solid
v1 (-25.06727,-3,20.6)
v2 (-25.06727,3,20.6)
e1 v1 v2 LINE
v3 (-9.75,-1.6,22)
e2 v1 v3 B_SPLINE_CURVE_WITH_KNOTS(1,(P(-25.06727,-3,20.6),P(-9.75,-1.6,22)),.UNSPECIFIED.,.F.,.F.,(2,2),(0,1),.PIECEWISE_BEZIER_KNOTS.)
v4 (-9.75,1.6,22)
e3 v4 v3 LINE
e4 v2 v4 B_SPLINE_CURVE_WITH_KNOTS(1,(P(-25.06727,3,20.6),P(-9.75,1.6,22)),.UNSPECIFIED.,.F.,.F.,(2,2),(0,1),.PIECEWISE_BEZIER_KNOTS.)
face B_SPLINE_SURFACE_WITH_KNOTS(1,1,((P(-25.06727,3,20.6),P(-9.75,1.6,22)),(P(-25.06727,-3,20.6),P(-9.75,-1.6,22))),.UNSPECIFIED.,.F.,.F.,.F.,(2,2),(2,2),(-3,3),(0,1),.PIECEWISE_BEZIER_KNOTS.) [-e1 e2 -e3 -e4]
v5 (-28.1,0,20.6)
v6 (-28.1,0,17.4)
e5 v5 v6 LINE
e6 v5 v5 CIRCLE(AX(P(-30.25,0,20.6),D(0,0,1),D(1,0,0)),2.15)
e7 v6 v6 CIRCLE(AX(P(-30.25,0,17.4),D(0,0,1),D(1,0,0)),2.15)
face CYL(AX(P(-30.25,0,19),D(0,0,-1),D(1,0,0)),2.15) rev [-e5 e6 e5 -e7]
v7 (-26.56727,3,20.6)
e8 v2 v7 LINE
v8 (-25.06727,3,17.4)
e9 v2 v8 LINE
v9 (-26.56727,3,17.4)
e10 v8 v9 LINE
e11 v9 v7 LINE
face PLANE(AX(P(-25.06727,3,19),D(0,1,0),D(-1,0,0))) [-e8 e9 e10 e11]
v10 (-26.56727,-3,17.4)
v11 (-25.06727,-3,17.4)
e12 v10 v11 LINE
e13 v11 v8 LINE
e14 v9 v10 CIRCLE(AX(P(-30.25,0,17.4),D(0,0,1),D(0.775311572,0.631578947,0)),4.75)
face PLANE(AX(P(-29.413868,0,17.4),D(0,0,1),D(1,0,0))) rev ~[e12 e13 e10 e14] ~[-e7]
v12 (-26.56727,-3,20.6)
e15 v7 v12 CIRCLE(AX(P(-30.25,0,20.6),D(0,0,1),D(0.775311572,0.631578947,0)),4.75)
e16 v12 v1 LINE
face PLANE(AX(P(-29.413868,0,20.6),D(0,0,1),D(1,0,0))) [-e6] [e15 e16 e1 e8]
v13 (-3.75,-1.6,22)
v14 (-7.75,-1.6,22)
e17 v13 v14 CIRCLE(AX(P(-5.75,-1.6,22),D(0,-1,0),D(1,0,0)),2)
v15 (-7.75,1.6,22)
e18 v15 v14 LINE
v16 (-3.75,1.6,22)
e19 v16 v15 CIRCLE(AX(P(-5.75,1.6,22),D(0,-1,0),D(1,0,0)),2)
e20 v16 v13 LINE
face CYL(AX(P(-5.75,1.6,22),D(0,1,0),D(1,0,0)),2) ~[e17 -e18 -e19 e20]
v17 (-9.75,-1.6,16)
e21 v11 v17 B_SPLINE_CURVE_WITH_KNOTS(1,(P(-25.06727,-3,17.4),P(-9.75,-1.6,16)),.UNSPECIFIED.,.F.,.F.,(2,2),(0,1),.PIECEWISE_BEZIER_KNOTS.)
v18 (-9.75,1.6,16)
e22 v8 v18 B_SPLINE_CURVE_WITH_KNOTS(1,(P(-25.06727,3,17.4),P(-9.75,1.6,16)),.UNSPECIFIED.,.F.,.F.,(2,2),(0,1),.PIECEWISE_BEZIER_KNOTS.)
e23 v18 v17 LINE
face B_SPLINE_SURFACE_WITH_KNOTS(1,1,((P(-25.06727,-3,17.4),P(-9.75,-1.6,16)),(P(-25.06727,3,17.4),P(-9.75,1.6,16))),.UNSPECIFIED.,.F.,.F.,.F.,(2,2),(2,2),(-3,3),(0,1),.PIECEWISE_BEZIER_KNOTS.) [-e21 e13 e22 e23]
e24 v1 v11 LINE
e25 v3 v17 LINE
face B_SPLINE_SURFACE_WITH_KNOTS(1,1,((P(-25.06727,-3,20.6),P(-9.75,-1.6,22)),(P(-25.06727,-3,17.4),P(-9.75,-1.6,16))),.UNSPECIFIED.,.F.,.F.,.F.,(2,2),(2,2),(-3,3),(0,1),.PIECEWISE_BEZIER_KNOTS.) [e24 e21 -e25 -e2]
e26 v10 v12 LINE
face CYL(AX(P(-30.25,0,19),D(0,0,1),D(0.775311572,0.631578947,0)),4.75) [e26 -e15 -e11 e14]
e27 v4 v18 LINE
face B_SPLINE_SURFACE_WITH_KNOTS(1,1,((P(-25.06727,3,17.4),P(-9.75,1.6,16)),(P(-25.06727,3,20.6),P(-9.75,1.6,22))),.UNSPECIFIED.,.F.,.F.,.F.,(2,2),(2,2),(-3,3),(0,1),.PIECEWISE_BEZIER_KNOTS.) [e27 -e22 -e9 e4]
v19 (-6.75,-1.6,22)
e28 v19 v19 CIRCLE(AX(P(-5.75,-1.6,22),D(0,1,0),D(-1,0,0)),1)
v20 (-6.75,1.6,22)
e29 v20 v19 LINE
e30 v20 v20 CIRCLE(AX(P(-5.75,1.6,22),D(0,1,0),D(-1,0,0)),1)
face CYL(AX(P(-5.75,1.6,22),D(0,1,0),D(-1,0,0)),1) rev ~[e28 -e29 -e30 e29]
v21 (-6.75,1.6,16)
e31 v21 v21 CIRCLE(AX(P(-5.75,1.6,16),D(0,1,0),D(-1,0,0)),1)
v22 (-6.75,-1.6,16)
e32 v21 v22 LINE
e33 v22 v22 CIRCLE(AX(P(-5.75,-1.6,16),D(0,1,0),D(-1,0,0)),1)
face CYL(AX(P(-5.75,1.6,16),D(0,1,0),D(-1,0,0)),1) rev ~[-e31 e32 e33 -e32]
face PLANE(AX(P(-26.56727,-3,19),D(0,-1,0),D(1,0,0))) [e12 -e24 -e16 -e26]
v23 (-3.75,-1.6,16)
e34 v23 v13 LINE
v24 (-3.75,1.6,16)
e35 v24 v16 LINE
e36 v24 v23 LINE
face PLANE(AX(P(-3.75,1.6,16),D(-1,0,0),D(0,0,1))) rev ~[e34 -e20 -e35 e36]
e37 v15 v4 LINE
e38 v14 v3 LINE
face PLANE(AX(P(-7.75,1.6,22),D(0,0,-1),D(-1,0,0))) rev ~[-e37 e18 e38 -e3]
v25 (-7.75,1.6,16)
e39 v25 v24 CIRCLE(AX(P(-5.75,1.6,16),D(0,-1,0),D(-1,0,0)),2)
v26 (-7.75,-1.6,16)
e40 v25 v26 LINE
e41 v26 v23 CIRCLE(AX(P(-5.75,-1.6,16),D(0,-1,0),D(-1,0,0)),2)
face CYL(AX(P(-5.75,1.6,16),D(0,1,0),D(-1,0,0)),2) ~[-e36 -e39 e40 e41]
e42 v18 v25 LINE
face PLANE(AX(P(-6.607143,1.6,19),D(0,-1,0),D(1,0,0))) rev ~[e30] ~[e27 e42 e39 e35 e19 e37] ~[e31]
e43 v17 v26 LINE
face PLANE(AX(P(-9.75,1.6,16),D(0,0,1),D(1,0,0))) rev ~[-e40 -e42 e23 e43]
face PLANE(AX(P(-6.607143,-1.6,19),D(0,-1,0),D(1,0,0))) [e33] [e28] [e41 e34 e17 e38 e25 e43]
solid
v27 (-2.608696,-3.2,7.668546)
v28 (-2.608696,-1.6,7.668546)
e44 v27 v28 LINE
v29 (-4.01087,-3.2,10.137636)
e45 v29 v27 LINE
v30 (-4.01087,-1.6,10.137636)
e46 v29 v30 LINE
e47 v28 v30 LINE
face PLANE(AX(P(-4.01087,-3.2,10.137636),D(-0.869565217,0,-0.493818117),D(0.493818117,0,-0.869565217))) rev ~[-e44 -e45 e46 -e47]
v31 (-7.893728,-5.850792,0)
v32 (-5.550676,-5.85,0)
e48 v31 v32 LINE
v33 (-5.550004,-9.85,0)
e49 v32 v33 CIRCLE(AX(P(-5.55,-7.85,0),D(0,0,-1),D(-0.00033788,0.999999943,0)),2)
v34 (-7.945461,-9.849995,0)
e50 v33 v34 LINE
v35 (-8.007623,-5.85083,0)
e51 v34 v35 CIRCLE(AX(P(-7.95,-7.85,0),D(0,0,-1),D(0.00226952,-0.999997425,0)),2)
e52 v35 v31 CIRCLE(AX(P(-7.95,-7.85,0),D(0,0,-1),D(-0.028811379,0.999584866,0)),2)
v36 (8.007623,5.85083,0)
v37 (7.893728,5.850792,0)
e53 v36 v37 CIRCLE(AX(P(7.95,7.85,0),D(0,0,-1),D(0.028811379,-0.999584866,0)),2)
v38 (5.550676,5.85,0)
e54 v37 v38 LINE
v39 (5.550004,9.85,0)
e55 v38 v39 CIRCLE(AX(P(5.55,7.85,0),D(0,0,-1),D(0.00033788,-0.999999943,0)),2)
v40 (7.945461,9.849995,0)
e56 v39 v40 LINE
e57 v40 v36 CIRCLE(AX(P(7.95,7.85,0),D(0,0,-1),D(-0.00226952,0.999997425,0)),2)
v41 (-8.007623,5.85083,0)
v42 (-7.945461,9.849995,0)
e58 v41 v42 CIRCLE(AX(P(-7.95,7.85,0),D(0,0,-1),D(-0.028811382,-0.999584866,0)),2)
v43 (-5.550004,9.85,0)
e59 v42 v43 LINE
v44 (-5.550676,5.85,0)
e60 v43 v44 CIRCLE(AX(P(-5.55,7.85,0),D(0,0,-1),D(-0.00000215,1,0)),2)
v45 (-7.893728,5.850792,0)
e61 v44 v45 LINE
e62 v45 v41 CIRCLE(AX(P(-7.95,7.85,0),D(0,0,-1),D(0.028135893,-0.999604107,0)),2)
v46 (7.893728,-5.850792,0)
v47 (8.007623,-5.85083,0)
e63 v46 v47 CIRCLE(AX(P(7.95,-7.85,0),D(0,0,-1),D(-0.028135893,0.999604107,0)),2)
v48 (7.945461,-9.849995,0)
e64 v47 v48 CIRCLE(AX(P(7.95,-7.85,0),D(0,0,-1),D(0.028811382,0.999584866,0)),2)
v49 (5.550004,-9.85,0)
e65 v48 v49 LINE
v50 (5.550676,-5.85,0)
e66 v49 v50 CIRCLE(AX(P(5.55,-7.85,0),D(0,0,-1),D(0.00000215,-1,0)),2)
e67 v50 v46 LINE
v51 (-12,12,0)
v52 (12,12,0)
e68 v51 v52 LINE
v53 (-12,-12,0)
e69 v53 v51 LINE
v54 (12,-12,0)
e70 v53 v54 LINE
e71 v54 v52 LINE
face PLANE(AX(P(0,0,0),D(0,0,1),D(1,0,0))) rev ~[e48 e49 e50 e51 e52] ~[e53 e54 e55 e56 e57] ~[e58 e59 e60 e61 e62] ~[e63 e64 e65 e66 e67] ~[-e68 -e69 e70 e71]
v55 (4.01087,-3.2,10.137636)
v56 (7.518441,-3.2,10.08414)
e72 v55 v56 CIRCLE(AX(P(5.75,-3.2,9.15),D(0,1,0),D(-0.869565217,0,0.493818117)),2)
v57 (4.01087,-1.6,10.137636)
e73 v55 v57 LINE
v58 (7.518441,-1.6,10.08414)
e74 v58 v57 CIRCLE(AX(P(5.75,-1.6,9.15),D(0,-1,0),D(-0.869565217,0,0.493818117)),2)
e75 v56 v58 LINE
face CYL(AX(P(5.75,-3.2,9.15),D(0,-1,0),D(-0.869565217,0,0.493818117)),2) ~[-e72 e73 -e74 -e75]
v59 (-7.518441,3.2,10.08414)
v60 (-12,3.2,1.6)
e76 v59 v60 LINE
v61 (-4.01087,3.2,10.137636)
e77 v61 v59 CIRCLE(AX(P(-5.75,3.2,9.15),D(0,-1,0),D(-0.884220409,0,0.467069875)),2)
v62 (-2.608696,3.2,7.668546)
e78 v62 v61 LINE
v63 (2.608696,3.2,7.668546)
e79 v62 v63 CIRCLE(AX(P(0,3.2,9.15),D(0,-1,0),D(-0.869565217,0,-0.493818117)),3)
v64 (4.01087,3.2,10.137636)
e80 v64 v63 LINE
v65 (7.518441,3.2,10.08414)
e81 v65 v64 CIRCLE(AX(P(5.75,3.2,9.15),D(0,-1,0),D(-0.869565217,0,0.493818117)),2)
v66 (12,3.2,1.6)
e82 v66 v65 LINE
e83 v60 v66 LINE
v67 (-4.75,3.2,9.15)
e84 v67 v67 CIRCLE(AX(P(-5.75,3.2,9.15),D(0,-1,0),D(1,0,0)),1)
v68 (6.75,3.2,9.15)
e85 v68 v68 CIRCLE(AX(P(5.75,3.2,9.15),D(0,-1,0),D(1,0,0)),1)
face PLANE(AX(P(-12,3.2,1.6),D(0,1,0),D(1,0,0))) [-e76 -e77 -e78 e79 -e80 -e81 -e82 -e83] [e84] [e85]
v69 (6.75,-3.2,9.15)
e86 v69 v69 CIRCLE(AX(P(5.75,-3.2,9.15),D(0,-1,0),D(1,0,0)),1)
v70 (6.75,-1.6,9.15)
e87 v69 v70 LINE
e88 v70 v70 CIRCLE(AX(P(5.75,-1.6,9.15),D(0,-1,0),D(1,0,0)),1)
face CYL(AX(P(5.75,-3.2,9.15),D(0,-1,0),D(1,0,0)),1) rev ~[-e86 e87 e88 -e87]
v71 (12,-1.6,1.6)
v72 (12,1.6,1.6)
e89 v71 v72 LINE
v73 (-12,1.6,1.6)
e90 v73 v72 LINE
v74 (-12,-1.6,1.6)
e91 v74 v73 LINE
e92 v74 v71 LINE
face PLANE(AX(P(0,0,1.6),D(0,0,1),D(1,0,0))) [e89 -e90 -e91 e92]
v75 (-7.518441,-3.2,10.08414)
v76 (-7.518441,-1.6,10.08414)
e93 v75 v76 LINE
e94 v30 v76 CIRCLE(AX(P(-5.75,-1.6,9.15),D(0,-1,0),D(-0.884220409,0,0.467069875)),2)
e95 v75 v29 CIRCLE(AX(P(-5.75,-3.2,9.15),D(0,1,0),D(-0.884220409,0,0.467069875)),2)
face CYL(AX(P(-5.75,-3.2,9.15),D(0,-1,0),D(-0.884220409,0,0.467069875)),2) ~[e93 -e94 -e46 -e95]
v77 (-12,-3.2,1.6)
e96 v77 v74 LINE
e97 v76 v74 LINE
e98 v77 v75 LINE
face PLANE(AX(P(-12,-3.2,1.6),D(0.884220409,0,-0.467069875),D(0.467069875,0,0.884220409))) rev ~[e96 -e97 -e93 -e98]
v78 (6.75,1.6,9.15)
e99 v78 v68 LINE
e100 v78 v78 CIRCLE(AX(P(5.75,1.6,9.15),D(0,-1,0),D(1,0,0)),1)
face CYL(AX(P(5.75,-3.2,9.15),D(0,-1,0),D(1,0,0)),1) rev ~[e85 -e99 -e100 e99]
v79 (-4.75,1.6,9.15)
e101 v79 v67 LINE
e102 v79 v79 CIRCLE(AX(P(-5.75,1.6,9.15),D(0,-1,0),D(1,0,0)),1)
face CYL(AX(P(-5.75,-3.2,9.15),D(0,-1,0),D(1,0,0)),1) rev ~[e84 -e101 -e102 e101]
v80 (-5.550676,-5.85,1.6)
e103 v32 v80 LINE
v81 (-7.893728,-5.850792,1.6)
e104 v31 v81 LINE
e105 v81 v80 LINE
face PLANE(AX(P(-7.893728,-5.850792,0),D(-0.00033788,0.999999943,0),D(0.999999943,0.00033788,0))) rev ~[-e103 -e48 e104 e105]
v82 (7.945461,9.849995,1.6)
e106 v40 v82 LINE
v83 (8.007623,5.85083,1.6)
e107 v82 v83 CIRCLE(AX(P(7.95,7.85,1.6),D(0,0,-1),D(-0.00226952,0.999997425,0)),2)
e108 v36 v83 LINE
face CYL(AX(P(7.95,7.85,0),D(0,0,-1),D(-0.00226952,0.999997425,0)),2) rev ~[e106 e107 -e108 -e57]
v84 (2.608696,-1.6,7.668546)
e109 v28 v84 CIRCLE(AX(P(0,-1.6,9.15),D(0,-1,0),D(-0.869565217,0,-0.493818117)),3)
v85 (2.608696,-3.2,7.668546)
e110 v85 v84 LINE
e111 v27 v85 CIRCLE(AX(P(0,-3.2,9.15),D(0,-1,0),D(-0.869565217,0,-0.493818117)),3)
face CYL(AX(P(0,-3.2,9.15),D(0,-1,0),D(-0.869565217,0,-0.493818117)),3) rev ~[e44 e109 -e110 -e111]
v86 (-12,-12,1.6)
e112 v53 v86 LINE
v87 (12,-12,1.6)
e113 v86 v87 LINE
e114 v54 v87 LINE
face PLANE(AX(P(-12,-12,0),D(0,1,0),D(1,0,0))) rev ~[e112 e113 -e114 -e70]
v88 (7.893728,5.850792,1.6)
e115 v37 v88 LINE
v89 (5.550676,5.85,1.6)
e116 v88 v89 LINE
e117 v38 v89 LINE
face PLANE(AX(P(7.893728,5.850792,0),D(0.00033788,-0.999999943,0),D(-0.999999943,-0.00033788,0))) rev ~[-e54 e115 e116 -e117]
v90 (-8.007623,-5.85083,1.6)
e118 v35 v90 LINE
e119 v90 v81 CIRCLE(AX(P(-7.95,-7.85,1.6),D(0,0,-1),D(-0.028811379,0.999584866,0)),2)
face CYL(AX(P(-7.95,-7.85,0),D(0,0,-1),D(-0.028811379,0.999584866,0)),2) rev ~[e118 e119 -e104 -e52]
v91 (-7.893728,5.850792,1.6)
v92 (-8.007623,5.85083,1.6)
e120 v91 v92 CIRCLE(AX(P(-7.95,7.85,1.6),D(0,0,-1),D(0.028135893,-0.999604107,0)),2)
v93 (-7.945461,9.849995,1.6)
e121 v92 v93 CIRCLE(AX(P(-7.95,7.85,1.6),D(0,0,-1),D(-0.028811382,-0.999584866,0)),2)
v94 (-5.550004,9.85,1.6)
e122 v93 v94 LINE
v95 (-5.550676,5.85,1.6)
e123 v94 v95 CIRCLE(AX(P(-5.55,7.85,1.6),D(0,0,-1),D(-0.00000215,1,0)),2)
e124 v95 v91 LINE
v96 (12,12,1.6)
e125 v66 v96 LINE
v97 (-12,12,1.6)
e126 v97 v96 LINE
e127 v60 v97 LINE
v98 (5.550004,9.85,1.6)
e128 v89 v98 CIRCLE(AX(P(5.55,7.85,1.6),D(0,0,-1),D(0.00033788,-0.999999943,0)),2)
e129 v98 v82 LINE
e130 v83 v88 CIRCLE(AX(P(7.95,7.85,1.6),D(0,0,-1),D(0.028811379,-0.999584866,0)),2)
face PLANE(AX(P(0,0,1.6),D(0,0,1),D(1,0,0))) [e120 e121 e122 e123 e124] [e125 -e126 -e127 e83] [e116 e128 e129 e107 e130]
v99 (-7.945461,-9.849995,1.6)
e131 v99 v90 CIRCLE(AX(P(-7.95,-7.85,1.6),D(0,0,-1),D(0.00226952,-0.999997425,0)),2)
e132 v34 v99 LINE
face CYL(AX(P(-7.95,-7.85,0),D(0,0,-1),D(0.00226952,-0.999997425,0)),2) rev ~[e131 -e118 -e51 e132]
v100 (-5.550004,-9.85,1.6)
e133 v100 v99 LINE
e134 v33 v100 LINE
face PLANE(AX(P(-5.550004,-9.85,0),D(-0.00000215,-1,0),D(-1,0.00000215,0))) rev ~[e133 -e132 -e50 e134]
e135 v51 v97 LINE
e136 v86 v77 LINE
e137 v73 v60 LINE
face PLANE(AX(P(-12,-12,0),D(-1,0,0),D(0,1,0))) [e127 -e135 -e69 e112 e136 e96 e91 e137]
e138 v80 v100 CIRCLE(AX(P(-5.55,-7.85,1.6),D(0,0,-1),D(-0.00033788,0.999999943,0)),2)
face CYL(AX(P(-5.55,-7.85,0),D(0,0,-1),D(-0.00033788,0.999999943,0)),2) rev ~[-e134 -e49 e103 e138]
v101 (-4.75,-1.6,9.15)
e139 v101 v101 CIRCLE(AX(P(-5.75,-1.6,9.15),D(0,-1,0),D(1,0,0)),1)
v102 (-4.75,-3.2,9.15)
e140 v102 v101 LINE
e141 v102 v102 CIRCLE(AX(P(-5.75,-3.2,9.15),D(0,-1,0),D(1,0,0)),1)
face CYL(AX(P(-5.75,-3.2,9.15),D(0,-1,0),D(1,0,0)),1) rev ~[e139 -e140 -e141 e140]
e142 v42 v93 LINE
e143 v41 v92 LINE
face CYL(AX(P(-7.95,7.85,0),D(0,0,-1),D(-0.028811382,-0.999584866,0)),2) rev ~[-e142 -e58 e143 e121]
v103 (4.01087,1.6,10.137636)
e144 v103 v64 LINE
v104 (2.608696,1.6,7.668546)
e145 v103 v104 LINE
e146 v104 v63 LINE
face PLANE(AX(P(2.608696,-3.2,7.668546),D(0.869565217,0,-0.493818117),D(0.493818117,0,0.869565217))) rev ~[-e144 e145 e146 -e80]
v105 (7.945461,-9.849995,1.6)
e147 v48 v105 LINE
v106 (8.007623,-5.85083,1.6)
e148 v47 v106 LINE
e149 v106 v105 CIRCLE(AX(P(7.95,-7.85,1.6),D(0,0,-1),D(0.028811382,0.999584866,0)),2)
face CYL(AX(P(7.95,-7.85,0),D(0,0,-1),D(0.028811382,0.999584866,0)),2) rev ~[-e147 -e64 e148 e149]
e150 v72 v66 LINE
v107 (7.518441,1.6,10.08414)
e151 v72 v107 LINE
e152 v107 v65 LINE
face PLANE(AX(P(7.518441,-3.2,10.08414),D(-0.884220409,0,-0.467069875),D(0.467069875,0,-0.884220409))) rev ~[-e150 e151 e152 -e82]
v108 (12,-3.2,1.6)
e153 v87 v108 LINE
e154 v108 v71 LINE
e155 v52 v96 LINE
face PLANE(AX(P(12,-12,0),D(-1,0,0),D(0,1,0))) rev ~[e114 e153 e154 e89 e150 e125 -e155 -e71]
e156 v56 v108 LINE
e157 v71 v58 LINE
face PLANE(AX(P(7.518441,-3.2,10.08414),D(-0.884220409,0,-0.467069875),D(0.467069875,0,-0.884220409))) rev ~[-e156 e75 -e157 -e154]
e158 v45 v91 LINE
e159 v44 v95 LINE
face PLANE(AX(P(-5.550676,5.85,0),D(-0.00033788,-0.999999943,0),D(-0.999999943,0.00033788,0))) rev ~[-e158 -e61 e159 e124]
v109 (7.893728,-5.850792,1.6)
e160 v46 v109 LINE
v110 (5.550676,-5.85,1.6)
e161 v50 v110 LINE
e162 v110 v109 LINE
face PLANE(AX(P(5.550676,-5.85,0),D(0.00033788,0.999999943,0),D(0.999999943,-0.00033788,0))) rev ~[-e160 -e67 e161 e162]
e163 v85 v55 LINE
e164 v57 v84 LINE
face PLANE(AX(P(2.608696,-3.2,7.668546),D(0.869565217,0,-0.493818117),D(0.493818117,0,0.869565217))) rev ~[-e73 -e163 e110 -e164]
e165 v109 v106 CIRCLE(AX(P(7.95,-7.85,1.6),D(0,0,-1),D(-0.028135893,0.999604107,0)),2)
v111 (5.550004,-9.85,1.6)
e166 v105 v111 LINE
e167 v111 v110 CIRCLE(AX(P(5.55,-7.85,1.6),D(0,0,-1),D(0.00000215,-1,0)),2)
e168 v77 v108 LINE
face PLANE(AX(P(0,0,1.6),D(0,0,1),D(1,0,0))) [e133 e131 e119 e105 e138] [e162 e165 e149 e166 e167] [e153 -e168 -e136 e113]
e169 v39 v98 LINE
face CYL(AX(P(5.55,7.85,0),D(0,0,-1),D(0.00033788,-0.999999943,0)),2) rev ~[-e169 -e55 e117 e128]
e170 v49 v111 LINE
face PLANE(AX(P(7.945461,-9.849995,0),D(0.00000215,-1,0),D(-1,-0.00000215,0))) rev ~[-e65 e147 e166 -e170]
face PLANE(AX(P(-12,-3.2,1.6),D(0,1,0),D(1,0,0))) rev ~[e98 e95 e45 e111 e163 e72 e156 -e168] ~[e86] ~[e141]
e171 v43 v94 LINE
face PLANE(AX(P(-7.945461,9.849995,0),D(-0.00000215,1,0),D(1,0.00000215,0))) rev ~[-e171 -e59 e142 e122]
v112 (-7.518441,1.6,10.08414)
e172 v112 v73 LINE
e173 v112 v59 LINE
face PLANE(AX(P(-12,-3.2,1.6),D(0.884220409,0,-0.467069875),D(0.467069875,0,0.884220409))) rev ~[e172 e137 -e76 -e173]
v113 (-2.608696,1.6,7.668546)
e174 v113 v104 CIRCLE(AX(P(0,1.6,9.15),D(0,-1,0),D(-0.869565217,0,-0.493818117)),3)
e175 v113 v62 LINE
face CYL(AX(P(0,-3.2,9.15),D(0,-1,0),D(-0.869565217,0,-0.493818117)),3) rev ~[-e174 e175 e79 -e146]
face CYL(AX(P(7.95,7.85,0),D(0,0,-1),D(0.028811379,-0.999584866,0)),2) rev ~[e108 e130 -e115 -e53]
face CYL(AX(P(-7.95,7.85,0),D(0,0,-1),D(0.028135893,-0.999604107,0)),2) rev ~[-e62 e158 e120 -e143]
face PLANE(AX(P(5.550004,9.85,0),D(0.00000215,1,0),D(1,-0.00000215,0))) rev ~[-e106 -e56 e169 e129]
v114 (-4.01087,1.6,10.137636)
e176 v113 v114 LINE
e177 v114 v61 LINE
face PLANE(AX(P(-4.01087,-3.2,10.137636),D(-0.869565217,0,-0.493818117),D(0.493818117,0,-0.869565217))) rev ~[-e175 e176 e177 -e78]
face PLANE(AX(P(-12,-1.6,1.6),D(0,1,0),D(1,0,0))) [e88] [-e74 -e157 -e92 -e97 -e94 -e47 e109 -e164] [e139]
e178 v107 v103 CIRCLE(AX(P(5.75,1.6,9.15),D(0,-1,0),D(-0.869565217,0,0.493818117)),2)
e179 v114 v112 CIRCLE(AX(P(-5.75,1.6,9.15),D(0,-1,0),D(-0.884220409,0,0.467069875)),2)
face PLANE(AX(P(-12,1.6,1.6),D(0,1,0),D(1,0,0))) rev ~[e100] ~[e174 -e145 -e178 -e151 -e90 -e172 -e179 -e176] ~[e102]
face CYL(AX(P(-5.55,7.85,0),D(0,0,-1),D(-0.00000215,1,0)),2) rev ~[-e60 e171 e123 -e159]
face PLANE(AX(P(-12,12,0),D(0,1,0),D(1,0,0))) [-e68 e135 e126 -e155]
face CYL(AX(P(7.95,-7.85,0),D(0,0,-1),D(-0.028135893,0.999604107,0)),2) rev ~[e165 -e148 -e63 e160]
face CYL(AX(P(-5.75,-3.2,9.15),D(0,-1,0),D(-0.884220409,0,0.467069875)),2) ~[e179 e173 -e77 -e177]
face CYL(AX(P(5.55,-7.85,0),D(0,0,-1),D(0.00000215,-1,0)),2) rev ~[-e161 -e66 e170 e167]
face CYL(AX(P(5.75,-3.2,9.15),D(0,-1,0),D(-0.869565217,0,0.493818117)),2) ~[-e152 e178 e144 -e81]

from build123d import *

# Parameters (mm, degrees)
F0_W       = 24
F0_H       = 24
F1_DEPTH   = 1.6
F2_W       = 24
F2_H       = 1.6
F3_DEPTH   = 15.5
F4_R       = 1
F5_DEPTH   = 15.201
F7_DEPTH   = 3.2
F9_R       = 2.15
F10_DEPTH  = 1.6
F10_FACE_W = 6
F10_FACE_H = 3.2
F7_FACE_W  = 3.2
F7_FACE_H  = 6


with BuildPart() as f1:
    # F0 (on Top) → F1 (new body)
    with BuildSketch(Plane.XY):
        Rectangle(F0_W, F0_H)
        with BuildLine():
            ThreePointArc((-5.5506757605, -5.8500001142), (-3.5500000282, -7.84966427), (-5.5500043004, -9.85))
            Line((-5.5500043004, -9.85), (-7.9454609594, -9.8499948493))
            ThreePointArc((-7.9454609594, -9.8499948493), (-9.9497584372, -7.8810836398), (-8.007622763, -5.850830268))
            ThreePointArc((-8.007622763, -5.850830268), (-7.9506757605, -5.8500001142), (-7.8937282099, -5.8507917853))
            Line((-7.8937282099, -5.8507917853), (-5.5506757605, -5.8500001142))
        make_face(mode=Mode.SUBTRACT)
        with BuildLine():
            ThreePointArc((7.8937282099, -5.8507917853), (7.9506757605, -5.8500001142), (8.007622763, -5.850830268))
            ThreePointArc((8.007622763, -5.850830268), (9.9497584372, -7.8810836398), (7.9454609594, -9.8499948493))
            Line((7.9454609594, -9.8499948493), (5.5500043004, -9.85))
            ThreePointArc((5.5500043004, -9.85), (3.5500000282, -7.84966427), (5.5506757605, -5.8500001142))
            Line((5.5506757605, -5.8500001142), (7.8937282099, -5.8507917853))
        make_face(mode=Mode.SUBTRACT)
        with BuildLine():
            ThreePointArc((-7.8937282099, 5.8507917853), (-7.9506757605, 5.8500001142), (-8.007622763, 5.850830268))
            ThreePointArc((-8.007622763, 5.850830268), (-9.9497584372, 7.8810836398), (-7.9454609594, 9.8499948493))
            Line((-7.9454609594, 9.8499948487), (-5.5500043004, 9.8499999994))
            ThreePointArc((-5.5500043004, 9.85), (-3.5500000282, 7.84966427), (-5.5506757605, 5.8500001142))
            Line((-5.5506757605, 5.8500001142), (-7.8937282099, 5.8507917853))
        make_face(mode=Mode.SUBTRACT)
        with BuildLine():
            ThreePointArc((5.5506757605, 5.8500001142), (3.5500000282, 7.84966427), (5.5500043004, 9.85))
            Line((5.5500043004, 9.8499999994), (7.9454609594, 9.8499948487))
            ThreePointArc((7.9454609594, 9.8499948493), (9.9497584372, 7.8810836398), (8.007622763, 5.850830268))
            ThreePointArc((8.007622763, 5.850830268), (7.9506757605, 5.8500001142), (7.8937282099, 5.8507917853))
            Line((7.8937282099, 5.8507917853), (5.5506757605, 5.8500001142))
        make_face(mode=Mode.SUBTRACT)
    extrude(amount=F1_DEPTH)

    # F2 (on face) → F3 (join)
    with BuildSketch(Plane.XY.offset(1.6)):
        with Locations((0, -2.4)):
            Rectangle(F2_W, F2_H)
        with Locations((0, 2.4)):
            Rectangle(F2_W, F2_H)
    extrude(amount=F3_DEPTH)

    # F4 (on face) → F5 (cut, through all)
    with BuildSketch(Plane.XZ.offset(3.2)):
        with BuildLine():
            ThreePointArc((-7.5184408181, 10.0841397501), (-5.7804998867, 11.1497674257), (-4.0108695652, 10.1376362341))
            Line((-4.0108695652, 10.1376362341), (-2.6086956522, 7.6685456489))
            ThreePointArc((-2.6086956522, 7.6685456489), (0, 6.15), (2.6086956522, 7.6685456489))
            Line((2.6086956522, 7.6685456489), (4.0108695652, 10.1376362341))
            ThreePointArc((4.0108695652, 10.1376362341), (5.7804998867, 11.1497674257), (7.5184408181, 10.0841397501))
            Line((7.5184408181, 10.0841397501), (12, 1.6))
            Line((12, 1.6), (12, 17.1))
            Line((12, 17.1), (-12, 17.1))
            Line((-12, 17.1), (-12, 1.6))
            Line((-12, 1.6), (-7.5184408181, 10.0841397501))
        make_face()
        with Locations((5.75, 9.15)):
            Circle(F4_R)
        with Locations((-5.75, 9.15)):
            Circle(F4_R)
    extrude(amount=-F5_DEPTH, mode=Mode.SUBTRACT)


with BuildPart() as f7:
    # F6 (on face) → F7 (new body)
    with BuildSketch(Plane.XZ.offset(-1.6)):
        with BuildLine():
            Line((-9.75, 16), (-7.75, 16))
            ThreePointArc((-7.75, 16), (-5.75, 14), (-3.75, 16))
            Line((-3.75, 16), (-3.75, 22))
            ThreePointArc((-3.75, 22), (-5.75, 24), (-7.75, 22))
            Line((-7.75, 22), (-9.75, 22))
            Line((-9.75, 22), (-9.75, 16))
        make_face()
        with BuildLine():
            ThreePointArc((-4.75, 16), (-5.75, 15), (-6.75, 16))
            ThreePointArc((-6.75, 16), (-5.75, 17), (-4.75, 16))
        make_face(mode=Mode.SUBTRACT)
        with BuildLine():
            ThreePointArc((-4.75, 22), (-5.75, 21), (-6.75, 22))
            ThreePointArc((-6.75, 22), (-5.75, 23), (-4.75, 22))
        make_face(mode=Mode.SUBTRACT)
    extrude(amount=F7_DEPTH)



with BuildPart() as f10:
    # F9 (on offset) → F10 (new body, symmetric)
    with BuildSketch(Plane.XY.offset(19)):
        with BuildLine():
            Line((-25.0672700343, 3), (-26.5672700343, 3))
            ThreePointArc((-26.5672700343, 3), (-35, 0), (-26.5672700343, -3))
            Line((-26.5672700343, -3), (-25.0672700343, -3))
            Line((-25.0672700343, -3), (-25.0672700343, 3))
        make_face()
        with Locations((-30.25, 0)):
            Circle(F9_R, mode=Mode.SUBTRACT)
    extrude(amount=F10_DEPTH, both=True)


with BuildPart() as f7_1:
    add(f7.part)

    add(f10.part)  # F11 merges F10
    # F10_face (on face) → F11 section 0
    with BuildSketch(Plane(origin=(-25.0672700343, 0, 19), x_dir=(0, 1, 0), z_dir=(1, 0, 0))):
        Rectangle(F10_FACE_W, F10_FACE_H)
    # F7_face (on face) → F11 section 1
    with BuildSketch(Plane(origin=(-9.75, 0, 19), x_dir=(0, -1, 0), z_dir=(-1, 0, 0))):
        Rectangle(F7_FACE_W, F7_FACE_H)
    loft()


solid = Compound([f1.part, f7_1.part])
